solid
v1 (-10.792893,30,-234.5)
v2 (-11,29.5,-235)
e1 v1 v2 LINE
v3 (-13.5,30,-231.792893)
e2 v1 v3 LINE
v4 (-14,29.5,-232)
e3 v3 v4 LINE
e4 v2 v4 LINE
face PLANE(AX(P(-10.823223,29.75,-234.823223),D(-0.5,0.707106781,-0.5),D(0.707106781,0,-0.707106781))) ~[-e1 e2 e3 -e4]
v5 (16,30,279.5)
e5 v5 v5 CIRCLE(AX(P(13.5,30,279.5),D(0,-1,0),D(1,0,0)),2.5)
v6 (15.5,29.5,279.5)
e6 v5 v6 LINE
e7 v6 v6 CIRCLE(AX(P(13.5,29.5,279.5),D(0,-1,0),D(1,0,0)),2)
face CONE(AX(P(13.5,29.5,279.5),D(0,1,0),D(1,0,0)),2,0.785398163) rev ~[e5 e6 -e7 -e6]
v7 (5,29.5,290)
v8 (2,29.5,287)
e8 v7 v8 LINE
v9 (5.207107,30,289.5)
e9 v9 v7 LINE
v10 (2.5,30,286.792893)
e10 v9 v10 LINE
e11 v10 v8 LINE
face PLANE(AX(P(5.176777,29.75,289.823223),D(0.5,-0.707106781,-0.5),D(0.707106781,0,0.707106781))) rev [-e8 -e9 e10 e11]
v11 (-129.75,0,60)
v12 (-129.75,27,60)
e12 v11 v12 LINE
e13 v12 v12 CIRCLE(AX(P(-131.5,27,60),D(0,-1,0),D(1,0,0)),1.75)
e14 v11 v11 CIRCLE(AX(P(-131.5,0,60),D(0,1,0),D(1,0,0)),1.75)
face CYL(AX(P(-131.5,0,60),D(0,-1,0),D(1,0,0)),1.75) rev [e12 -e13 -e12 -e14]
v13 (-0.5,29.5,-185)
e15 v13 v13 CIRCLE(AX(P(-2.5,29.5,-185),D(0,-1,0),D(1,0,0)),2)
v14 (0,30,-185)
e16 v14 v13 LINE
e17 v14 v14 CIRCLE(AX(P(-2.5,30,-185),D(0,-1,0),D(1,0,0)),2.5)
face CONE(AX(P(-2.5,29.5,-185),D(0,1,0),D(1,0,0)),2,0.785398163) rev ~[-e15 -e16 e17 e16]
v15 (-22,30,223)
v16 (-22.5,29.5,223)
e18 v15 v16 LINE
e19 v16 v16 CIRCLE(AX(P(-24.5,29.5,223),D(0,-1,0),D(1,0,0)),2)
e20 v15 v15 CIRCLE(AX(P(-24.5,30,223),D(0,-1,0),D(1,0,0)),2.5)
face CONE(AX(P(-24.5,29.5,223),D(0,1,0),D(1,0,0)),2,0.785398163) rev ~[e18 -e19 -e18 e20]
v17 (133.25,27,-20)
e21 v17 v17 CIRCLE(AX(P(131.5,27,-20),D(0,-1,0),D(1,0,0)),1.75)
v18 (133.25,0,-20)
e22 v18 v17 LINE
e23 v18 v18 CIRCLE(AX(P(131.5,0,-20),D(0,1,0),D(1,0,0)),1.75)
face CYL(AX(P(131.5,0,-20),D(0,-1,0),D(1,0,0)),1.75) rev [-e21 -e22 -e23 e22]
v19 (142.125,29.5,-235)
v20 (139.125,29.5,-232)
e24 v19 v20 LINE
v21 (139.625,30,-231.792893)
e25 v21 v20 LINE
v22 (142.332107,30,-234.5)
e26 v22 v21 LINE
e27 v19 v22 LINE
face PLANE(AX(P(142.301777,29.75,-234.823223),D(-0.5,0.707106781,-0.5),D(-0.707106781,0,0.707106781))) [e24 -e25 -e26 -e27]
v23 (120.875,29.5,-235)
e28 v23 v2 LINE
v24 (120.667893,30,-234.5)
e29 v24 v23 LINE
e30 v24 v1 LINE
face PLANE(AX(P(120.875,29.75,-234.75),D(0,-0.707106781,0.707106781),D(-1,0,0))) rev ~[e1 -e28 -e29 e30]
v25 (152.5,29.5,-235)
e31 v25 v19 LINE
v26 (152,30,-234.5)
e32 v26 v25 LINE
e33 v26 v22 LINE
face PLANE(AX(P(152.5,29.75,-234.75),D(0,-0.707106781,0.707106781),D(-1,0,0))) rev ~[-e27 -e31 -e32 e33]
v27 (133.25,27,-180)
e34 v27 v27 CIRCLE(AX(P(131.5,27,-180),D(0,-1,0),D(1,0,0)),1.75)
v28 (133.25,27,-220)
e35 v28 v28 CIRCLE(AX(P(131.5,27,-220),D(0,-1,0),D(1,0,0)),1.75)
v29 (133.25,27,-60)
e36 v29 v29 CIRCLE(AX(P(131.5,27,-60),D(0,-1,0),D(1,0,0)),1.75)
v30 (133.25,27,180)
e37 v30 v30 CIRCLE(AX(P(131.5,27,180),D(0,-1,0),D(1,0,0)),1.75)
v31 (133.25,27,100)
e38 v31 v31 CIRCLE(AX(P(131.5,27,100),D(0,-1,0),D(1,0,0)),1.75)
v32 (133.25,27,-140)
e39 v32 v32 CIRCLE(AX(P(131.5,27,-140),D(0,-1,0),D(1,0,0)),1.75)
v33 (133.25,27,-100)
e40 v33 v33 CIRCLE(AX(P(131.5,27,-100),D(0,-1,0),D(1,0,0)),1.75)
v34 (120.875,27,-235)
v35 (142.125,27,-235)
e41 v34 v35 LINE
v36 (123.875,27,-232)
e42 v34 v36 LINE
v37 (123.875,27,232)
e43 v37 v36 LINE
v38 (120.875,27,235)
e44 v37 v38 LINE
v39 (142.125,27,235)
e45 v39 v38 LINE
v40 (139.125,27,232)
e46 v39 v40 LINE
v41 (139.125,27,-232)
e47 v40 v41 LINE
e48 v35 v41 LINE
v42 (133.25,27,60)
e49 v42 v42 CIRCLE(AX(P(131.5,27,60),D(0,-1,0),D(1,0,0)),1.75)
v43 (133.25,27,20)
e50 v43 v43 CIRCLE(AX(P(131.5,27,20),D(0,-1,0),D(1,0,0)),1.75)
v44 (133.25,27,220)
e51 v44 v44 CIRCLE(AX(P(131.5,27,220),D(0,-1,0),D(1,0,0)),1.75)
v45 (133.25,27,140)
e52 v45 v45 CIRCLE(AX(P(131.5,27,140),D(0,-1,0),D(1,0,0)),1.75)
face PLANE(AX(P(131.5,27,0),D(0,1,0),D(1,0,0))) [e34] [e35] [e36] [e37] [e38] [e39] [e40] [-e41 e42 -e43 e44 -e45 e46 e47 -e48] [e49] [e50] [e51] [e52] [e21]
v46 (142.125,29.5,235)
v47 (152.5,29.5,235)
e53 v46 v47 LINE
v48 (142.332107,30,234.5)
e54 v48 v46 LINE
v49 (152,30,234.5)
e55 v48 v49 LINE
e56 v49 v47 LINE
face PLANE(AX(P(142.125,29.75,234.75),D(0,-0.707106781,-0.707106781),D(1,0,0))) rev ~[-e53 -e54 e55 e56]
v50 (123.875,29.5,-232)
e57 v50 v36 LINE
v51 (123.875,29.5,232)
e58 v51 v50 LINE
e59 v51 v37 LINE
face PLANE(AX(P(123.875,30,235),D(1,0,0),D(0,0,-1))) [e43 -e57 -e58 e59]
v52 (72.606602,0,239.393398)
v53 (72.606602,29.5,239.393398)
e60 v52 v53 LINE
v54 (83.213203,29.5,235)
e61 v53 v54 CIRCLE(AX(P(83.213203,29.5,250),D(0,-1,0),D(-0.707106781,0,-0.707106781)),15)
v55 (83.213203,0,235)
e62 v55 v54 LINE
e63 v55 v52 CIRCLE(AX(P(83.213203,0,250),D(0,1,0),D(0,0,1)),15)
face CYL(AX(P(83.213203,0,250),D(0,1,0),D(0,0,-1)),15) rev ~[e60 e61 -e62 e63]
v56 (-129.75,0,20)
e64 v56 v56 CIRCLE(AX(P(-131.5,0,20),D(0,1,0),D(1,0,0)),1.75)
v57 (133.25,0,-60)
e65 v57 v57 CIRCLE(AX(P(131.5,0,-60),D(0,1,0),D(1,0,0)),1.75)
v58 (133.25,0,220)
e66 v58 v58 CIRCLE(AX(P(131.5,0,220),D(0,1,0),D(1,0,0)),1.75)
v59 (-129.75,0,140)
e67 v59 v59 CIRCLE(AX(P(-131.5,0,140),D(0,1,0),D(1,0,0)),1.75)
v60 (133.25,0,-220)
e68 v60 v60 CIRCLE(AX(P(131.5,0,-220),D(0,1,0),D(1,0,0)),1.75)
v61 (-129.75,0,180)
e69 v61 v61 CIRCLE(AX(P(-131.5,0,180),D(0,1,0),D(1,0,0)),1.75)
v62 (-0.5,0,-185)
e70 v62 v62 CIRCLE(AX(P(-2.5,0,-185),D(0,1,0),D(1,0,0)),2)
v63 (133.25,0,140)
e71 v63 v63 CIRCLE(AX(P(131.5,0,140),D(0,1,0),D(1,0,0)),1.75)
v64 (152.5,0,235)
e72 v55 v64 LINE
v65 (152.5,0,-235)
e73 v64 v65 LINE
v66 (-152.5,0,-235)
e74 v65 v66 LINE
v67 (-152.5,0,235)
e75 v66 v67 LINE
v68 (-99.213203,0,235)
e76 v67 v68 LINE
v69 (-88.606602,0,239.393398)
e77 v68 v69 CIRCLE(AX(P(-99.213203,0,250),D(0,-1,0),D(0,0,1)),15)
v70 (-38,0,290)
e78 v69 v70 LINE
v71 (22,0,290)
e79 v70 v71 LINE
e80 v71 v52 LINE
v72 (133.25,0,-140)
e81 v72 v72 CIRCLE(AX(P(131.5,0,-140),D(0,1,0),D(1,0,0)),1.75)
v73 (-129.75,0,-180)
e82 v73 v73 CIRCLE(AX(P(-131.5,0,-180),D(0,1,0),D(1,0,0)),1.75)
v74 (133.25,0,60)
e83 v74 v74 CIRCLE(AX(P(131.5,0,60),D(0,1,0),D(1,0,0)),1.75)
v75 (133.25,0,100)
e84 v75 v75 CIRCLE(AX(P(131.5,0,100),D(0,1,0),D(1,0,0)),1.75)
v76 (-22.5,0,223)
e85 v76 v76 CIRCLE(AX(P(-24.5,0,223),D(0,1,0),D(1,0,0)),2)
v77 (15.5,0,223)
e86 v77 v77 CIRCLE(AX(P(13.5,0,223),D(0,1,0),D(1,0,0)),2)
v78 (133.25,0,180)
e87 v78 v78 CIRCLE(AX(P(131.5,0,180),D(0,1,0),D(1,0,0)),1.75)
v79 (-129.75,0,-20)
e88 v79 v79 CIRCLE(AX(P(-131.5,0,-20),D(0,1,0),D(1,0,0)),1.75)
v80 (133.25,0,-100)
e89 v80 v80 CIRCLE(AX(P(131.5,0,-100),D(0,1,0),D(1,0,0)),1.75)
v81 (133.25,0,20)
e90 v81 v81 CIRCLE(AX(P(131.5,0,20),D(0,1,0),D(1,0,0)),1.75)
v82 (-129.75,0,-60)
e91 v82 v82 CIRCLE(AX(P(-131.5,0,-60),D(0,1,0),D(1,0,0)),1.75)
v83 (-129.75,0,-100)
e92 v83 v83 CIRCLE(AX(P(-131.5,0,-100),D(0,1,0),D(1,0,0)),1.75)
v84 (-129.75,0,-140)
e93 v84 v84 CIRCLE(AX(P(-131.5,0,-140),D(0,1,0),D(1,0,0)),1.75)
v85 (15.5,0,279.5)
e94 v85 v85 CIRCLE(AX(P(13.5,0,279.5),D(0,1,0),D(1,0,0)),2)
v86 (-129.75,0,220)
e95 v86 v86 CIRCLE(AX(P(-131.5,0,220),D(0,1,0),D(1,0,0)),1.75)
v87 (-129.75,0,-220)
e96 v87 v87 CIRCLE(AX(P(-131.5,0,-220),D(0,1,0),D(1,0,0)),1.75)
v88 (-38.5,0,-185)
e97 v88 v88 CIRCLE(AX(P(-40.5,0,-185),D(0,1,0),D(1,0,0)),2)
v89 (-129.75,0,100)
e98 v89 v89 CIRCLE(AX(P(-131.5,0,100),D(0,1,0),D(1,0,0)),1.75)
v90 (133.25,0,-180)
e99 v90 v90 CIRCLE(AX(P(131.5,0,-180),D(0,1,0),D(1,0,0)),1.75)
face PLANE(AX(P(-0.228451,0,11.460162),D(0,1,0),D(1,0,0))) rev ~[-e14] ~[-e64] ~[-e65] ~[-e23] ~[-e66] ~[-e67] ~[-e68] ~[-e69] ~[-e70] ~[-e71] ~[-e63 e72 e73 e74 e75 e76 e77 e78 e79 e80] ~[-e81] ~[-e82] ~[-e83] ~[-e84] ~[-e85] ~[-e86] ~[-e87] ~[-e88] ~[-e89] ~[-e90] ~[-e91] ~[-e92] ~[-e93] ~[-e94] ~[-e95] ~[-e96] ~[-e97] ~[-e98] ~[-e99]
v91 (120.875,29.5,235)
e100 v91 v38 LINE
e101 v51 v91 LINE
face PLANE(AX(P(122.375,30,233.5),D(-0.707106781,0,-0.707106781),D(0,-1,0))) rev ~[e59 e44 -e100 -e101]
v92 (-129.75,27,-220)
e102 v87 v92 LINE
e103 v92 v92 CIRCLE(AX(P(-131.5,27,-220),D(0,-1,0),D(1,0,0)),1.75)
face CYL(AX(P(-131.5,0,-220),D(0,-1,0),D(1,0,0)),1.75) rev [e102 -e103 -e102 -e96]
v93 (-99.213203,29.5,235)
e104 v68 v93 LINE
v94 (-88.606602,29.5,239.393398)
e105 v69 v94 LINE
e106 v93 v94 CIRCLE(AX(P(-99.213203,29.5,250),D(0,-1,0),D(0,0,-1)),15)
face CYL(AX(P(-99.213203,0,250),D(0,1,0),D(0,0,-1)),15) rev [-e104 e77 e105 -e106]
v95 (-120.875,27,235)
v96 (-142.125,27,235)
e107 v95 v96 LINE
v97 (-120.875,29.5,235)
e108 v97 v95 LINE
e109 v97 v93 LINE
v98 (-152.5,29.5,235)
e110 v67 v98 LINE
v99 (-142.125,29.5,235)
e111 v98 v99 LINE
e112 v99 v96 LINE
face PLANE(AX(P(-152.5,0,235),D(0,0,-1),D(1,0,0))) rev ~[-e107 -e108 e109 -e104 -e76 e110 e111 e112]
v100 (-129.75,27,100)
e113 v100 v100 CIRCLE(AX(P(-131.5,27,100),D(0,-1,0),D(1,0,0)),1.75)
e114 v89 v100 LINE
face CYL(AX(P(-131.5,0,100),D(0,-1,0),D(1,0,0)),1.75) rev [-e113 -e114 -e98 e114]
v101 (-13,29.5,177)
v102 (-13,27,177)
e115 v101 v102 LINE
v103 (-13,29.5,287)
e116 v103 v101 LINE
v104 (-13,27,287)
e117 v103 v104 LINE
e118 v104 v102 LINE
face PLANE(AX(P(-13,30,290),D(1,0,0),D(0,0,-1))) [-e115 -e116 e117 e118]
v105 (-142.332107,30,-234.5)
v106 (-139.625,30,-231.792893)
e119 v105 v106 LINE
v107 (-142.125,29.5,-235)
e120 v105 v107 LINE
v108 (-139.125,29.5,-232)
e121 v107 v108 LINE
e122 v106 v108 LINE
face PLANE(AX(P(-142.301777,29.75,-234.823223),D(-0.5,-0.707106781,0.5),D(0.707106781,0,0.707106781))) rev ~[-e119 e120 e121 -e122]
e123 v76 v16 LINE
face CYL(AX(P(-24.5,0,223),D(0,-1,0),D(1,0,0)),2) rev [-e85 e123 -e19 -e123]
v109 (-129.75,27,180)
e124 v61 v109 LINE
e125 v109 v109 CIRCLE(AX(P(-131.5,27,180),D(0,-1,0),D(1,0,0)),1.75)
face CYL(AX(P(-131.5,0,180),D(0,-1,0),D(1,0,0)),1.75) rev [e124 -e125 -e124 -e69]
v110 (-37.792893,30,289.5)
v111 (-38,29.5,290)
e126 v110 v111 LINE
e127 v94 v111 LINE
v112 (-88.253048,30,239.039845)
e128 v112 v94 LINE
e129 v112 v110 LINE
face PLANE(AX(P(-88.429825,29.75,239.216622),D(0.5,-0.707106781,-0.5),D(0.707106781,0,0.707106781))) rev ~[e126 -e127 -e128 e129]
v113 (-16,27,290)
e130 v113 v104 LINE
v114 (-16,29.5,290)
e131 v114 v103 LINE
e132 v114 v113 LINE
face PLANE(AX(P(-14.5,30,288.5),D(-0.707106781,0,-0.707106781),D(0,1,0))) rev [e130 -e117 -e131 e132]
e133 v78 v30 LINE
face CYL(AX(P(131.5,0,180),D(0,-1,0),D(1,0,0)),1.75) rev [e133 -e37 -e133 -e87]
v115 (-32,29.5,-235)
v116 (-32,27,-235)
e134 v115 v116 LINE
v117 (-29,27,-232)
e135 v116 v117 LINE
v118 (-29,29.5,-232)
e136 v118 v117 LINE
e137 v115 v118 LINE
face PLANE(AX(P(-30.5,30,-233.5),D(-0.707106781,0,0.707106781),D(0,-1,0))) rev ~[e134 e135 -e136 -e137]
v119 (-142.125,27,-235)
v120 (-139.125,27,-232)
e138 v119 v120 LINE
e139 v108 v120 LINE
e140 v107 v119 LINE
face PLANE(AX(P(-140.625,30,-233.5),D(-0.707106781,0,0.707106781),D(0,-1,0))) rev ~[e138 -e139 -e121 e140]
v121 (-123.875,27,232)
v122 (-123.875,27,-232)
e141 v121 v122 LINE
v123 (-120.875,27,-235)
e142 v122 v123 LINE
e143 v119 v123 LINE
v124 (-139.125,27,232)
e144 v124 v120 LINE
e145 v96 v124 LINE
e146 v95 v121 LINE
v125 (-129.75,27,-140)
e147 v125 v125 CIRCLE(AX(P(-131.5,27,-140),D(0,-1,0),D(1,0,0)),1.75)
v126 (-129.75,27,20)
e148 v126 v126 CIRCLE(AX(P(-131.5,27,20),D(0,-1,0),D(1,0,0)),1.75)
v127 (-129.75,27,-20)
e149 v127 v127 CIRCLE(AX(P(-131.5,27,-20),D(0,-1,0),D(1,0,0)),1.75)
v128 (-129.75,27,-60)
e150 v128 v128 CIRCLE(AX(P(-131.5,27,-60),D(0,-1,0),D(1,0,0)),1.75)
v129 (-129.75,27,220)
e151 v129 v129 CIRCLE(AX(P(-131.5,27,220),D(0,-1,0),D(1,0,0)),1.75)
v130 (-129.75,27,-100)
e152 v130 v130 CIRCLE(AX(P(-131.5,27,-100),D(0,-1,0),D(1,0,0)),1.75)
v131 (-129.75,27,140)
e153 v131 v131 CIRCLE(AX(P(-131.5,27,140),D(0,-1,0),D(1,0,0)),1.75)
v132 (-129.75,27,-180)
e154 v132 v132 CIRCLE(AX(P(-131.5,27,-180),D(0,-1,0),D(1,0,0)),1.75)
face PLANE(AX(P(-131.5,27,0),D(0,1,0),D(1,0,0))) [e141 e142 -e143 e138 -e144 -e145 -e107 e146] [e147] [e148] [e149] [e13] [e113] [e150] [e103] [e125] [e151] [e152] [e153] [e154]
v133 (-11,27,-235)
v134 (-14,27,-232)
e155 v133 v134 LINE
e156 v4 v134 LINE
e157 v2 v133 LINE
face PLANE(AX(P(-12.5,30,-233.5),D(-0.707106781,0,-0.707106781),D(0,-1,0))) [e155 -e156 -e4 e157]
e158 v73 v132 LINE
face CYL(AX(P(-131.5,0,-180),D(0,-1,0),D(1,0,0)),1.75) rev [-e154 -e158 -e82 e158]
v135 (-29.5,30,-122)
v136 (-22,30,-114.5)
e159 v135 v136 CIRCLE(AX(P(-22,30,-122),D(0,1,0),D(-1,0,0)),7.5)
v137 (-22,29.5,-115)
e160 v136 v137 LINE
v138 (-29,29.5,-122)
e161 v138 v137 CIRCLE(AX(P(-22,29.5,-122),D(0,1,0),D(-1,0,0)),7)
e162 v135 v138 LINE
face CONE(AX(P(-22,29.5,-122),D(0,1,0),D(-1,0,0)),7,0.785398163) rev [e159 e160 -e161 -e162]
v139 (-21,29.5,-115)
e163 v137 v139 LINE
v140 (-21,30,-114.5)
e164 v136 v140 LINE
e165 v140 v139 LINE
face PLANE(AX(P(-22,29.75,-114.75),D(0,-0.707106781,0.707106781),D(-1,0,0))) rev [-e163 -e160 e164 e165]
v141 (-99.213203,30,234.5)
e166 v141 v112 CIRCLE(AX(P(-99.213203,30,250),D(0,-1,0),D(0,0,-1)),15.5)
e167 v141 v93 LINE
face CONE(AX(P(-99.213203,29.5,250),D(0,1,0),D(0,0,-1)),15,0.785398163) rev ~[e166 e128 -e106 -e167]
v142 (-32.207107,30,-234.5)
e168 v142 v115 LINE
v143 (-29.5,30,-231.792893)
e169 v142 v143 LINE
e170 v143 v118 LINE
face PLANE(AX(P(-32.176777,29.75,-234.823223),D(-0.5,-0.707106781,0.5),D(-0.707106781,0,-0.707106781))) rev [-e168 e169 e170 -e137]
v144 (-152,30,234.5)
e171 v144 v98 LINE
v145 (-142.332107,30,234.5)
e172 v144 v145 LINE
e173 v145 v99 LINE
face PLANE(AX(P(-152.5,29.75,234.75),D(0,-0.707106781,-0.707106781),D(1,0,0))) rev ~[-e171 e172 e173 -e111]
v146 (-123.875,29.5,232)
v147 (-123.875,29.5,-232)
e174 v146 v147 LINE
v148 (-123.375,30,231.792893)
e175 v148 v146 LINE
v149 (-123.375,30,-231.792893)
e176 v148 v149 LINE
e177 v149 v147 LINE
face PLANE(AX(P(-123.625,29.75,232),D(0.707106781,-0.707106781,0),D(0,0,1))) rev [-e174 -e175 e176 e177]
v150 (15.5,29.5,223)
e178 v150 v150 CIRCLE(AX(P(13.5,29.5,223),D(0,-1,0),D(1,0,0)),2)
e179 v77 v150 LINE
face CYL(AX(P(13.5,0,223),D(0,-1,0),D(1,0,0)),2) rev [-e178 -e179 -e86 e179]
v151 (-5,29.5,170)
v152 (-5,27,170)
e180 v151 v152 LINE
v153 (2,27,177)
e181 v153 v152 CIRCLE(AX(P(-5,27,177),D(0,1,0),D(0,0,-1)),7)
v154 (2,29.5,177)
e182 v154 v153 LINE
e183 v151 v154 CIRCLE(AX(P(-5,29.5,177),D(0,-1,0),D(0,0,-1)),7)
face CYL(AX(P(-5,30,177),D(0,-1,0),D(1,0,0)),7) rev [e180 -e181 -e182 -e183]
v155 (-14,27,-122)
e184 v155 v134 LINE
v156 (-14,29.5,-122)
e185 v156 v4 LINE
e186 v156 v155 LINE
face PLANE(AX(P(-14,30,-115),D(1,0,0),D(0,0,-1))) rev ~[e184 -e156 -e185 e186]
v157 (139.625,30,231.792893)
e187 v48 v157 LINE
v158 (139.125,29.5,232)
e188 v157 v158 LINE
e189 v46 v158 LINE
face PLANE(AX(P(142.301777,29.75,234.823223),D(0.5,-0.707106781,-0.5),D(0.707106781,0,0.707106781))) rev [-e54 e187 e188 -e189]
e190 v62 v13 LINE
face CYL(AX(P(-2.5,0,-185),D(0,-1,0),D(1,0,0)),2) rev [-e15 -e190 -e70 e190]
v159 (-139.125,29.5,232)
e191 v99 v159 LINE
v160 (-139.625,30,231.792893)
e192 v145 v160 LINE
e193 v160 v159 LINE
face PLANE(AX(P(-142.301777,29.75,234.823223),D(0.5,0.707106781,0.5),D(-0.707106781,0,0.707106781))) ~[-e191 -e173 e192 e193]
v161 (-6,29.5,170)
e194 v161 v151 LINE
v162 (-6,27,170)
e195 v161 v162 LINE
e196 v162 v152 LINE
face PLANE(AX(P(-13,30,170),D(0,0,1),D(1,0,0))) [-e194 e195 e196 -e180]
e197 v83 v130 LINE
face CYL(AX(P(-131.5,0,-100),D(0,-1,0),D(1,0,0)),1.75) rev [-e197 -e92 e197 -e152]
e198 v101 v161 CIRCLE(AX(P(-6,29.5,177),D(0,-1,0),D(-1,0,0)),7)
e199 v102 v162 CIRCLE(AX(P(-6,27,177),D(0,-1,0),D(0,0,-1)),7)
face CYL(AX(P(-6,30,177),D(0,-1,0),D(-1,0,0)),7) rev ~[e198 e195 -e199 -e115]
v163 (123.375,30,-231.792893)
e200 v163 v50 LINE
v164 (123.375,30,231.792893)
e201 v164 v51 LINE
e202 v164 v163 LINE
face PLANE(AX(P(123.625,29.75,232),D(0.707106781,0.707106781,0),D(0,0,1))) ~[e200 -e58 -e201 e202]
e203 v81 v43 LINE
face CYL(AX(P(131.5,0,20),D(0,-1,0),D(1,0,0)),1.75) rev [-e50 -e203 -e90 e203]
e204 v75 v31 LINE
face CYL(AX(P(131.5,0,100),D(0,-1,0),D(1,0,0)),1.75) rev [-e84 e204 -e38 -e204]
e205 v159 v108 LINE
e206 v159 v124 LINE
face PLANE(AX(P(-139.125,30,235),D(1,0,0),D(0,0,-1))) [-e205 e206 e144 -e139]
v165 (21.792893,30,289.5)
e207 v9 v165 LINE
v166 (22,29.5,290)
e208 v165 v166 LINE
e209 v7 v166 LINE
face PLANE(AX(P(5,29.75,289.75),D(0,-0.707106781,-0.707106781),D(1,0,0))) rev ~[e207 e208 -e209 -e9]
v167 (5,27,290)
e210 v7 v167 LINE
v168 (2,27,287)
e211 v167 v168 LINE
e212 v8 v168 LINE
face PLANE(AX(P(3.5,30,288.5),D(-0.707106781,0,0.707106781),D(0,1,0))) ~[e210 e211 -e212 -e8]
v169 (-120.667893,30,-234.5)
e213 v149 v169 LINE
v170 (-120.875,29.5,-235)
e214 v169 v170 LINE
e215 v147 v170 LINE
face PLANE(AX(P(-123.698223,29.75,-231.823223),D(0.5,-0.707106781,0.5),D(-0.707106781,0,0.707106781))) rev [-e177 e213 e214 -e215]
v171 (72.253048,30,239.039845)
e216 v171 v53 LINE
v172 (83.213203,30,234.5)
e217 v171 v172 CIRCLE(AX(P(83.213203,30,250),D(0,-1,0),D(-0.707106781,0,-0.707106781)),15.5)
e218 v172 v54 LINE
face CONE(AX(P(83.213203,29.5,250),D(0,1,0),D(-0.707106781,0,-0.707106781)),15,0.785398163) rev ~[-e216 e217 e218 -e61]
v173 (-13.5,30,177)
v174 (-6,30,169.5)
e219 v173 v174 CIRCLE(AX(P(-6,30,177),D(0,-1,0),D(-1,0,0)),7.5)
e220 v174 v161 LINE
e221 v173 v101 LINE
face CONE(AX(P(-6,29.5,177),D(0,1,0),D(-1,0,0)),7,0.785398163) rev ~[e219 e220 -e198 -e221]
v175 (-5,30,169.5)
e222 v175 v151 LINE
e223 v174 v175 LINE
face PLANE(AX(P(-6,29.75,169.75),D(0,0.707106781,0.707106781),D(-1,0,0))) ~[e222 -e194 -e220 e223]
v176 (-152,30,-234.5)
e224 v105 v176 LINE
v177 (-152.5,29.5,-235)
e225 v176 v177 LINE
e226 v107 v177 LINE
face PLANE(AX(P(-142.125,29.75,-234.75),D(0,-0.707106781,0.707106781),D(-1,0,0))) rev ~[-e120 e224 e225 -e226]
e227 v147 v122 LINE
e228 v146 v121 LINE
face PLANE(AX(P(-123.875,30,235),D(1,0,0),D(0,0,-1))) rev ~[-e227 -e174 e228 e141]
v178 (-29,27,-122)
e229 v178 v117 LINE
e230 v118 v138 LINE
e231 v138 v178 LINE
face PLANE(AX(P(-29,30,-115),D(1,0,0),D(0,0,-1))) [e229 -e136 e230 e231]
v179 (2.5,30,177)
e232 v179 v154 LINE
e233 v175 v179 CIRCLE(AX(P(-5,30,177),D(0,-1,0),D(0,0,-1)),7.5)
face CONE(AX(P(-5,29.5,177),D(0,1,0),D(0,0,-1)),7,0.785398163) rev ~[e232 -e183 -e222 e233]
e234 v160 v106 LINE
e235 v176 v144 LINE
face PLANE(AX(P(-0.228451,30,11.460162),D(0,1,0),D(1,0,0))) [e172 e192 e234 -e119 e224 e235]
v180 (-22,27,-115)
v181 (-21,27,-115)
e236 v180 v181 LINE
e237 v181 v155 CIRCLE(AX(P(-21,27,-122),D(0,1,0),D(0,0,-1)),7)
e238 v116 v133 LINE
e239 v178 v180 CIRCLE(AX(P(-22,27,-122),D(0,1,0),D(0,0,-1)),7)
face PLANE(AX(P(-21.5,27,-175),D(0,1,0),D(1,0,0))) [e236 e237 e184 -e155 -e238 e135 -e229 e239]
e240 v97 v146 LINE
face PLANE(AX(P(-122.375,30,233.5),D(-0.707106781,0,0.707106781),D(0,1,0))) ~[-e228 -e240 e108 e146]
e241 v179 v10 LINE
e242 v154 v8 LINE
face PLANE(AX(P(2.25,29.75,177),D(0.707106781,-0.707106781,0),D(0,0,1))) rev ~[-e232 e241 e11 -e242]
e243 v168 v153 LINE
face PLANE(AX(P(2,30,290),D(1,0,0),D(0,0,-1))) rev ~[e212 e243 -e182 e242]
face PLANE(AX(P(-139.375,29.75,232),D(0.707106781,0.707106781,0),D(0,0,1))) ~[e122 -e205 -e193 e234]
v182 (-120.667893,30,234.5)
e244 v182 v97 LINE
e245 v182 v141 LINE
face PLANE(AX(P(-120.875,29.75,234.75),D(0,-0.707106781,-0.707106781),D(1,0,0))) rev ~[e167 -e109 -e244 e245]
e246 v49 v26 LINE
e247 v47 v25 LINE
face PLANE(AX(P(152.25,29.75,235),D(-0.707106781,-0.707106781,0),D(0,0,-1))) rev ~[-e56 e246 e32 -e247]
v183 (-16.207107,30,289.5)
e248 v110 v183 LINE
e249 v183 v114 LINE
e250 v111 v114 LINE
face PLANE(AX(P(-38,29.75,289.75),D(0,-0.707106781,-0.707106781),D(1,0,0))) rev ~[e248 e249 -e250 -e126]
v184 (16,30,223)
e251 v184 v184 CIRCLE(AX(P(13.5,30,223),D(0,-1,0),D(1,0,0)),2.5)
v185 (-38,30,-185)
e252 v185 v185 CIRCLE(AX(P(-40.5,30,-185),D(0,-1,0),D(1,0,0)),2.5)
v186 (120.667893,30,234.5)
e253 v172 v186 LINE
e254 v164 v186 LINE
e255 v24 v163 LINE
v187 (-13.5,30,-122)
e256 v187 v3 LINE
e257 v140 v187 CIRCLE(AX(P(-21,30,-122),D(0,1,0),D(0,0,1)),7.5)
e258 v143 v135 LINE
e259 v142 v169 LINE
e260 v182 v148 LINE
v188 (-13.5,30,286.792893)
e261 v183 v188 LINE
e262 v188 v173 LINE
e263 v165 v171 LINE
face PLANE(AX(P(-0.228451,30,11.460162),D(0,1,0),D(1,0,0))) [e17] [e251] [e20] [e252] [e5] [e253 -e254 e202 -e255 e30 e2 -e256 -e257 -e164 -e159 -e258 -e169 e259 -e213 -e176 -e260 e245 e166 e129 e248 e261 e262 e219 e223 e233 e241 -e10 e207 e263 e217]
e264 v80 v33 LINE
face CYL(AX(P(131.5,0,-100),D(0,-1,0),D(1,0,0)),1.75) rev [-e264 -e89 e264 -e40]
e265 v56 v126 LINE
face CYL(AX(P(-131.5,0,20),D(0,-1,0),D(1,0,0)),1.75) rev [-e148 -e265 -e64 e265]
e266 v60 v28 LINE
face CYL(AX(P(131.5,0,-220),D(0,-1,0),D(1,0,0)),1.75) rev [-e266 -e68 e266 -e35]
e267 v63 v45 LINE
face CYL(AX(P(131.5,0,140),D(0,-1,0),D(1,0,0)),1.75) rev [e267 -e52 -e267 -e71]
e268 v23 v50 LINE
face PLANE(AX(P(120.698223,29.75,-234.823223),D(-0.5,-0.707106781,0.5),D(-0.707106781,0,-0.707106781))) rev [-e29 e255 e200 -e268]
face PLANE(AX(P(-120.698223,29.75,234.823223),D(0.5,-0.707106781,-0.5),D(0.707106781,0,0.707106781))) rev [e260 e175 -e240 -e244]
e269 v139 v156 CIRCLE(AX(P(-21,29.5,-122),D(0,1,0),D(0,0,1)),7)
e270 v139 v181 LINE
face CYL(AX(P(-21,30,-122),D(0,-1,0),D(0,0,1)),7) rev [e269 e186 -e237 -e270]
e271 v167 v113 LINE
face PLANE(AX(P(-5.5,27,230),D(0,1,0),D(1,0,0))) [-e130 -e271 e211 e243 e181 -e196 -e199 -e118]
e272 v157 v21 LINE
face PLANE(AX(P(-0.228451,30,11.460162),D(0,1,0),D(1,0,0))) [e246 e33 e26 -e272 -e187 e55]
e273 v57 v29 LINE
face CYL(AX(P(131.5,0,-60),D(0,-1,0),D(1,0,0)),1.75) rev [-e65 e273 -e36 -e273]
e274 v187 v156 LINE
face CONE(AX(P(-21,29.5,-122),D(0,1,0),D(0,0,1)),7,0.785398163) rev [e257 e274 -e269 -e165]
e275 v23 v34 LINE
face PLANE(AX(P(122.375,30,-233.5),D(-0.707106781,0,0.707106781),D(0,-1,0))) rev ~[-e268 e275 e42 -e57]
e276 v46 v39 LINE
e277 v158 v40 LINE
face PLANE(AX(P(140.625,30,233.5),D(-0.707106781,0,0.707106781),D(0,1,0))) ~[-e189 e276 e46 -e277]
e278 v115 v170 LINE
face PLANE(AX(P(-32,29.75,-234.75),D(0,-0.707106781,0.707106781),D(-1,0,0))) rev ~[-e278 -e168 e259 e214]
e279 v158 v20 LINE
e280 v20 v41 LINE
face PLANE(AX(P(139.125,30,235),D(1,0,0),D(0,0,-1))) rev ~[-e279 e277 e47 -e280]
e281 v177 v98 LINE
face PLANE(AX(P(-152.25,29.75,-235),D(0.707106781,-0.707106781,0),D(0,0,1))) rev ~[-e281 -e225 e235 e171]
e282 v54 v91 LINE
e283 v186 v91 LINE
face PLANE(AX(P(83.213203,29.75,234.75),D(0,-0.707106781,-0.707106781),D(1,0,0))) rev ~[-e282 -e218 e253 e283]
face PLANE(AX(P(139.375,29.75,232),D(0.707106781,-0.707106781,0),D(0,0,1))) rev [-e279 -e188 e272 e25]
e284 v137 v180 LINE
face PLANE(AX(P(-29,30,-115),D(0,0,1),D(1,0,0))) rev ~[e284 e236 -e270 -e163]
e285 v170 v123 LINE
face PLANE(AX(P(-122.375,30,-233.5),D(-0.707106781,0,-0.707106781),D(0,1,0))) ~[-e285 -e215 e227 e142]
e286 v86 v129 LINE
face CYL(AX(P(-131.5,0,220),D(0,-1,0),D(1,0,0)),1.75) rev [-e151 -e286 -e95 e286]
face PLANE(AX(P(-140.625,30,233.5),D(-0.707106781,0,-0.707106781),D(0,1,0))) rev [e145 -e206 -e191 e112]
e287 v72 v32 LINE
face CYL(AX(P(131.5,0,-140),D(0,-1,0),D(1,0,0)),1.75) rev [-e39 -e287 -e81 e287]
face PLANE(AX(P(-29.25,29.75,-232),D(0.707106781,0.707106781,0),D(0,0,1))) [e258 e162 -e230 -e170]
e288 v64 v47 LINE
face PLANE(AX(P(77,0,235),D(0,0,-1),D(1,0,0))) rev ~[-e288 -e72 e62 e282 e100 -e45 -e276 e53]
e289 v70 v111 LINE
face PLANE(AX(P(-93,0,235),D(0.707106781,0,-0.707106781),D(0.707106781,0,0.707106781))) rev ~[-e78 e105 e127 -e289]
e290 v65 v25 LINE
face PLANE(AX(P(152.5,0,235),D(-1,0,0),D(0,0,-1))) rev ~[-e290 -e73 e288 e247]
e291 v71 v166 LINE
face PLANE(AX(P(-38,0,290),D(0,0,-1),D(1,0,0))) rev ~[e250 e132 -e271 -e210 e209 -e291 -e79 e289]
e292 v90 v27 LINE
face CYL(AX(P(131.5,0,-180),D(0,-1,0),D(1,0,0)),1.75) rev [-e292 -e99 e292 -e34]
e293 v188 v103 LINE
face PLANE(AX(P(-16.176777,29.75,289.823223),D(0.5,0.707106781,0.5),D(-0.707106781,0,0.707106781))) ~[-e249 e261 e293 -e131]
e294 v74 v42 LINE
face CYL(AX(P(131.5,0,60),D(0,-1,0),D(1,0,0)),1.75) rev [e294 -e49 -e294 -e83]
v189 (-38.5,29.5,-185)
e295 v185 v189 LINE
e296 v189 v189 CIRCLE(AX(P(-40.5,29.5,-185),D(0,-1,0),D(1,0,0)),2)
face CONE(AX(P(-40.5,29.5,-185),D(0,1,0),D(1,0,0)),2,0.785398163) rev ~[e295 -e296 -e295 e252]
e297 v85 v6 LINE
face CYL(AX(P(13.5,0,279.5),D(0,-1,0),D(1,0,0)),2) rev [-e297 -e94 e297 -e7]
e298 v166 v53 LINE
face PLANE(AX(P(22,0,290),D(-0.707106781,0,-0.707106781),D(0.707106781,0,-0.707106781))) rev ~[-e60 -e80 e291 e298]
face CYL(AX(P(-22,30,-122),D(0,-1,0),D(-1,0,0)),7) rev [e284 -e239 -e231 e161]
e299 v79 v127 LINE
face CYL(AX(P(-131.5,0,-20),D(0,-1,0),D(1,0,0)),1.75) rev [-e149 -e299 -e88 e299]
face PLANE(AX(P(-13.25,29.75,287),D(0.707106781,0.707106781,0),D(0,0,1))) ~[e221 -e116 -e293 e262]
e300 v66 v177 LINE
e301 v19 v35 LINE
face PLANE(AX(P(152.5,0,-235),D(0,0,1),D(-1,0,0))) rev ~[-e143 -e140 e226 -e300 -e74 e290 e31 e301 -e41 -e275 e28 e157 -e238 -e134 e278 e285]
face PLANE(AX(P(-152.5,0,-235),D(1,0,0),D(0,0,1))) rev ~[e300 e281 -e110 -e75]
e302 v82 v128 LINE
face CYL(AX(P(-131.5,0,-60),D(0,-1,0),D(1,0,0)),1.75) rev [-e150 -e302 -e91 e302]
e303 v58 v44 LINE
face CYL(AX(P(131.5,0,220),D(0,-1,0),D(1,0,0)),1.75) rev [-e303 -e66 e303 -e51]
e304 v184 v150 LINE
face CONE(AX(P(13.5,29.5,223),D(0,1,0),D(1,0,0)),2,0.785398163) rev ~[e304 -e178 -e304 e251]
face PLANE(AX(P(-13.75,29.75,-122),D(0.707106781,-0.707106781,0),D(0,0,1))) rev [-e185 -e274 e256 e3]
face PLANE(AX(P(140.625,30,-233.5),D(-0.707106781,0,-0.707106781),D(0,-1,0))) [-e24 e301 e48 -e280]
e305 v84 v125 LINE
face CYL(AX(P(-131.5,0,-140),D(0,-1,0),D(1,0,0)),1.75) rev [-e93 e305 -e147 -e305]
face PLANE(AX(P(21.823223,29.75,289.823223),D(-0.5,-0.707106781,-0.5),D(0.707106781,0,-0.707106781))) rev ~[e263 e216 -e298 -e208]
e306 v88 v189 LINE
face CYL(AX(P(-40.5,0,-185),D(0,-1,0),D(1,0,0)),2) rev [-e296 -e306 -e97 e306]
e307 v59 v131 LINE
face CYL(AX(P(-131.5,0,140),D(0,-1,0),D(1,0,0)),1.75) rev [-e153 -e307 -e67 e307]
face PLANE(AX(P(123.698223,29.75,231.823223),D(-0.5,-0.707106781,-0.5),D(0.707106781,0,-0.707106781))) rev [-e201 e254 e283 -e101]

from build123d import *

# Parameters (mm, degrees)
BOSS_EXTRUDE1_DEPTH = 30
SKETCH2_R           = 1.75
SKETCH2_R_2         = 2
CUT_EXTRUDE1_DEPTH  = 31
SKETCH3_W           = 15.25
SKETCH3_H           = 470
CUT_EXTRUDE2_DEPTH  = 3
SKETCH4_W           = 15
SKETCH4_H           = 120
CUT_EXTRUDE3_DEPTH  = 3
FILLET1_R           = 7
FILLET2_R           = 15
CHAMFER1_SIZE       = 3
CHAMFER2_SIZE       = 0.5


with BuildPart() as part:
    # Sketch1 → Boss-Extrude1 (new body)
    with BuildSketch(Plane(origin=(0, 0, 0), x_dir=(1, 0, 0), z_dir=(0, 1, 0))):
        Polygon((-93, -235), (-38, -290), (22, -290), (77, -235), (152.5, -235), (152.5, 235), (-152.5, 235), (-152.5, -235), align=None)
    extrude(amount=BOSS_EXTRUDE1_DEPTH)

    # Sketch2 → Cut-Extrude1 (cut, through all)
    with BuildSketch(Plane(origin=(0, 0, 0), x_dir=(1, 0, 0), z_dir=(0, 1, 0))):
        with Locations((-131.5, 220)):
            Circle(SKETCH2_R)
        with Locations((131.5, 220)):
            Circle(SKETCH2_R)
        with Locations((13.5, -223)):
            Circle(SKETCH2_R_2)
        with Locations((-24.5, -223)):
            Circle(SKETCH2_R_2)
        with Locations((-40.5, 185)):
            Circle(SKETCH2_R_2)
        with Locations((-2.5, 185)):
            Circle(SKETCH2_R_2)
        with Locations((-131.5, 180)):
            Circle(SKETCH2_R)
        with Locations((131.5, 180)):
            Circle(SKETCH2_R)
        with Locations((-131.5, 140)):
            Circle(SKETCH2_R)
        with Locations((131.5, 140)):
            Circle(SKETCH2_R)
        with Locations((-131.5, 100)):
            Circle(SKETCH2_R)
        with Locations((131.5, 100)):
            Circle(SKETCH2_R)
        with Locations((-131.5, 60)):
            Circle(SKETCH2_R)
        with Locations((131.5, 60)):
            Circle(SKETCH2_R)
        with Locations((-131.5, 20)):
            Circle(SKETCH2_R)
        with Locations((131.5, 20)):
            Circle(SKETCH2_R)
        with Locations((-131.5, -20)):
            Circle(SKETCH2_R)
        with Locations((131.5, -20)):
            Circle(SKETCH2_R)
        with Locations((-131.5, -60)):
            Circle(SKETCH2_R)
        with Locations((131.5, -60)):
            Circle(SKETCH2_R)
        with Locations((-131.5, -100)):
            Circle(SKETCH2_R)
        with Locations((131.5, -100)):
            Circle(SKETCH2_R)
        with Locations((-131.5, -140)):
            Circle(SKETCH2_R)
        with Locations((131.5, -140)):
            Circle(SKETCH2_R)
        with Locations((-131.5, -180)):
            Circle(SKETCH2_R)
        with Locations((131.5, -180)):
            Circle(SKETCH2_R)
        with Locations((-131.5, -220)):
            Circle(SKETCH2_R)
        with Locations((131.5, -220)):
            Circle(SKETCH2_R)
        with Locations((13.5, -279.5)):
            Circle(SKETCH2_R_2)
    extrude(amount=CUT_EXTRUDE1_DEPTH, mode=Mode.SUBTRACT)

    # Sketch3 → Cut-Extrude2 (cut)
    with BuildSketch(Plane(origin=(0, 30, 0), x_dir=(1, 0, 0), z_dir=(0, 1, 0))):
        with Locations((-131.5, 0)):
            Rectangle(SKETCH3_W, SKETCH3_H)
        with Locations((131.5, 0)):
            Rectangle(SKETCH3_W, SKETCH3_H)
    extrude(amount=-CUT_EXTRUDE2_DEPTH, mode=Mode.SUBTRACT)

    # Sketch4 → Cut-Extrude3 (cut)
    with BuildSketch(Plane(origin=(0, 30, 0), x_dir=(1, 0, 0), z_dir=(0, 1, 0))):
        with Locations((-5.5, -230)):
            Rectangle(SKETCH4_W, SKETCH4_H)
        with Locations((-21.5, 175)):
            Rectangle(SKETCH4_W, SKETCH4_H)
    extrude(amount=-CUT_EXTRUDE3_DEPTH, mode=Mode.SUBTRACT)

    # Fillet1
    fillet1_edges = [part.edges().sort_by_distance(p)[0] for p in [
        (-13, 28.5, 170),
        (2, 28.5, 170),
        (-29, 28.5, -115),
        (-14, 28.5, -115),
    ]]
    fillet(fillet1_edges, radius=FILLET1_R)

    # Fillet2
    fillet2_edges = [part.edges().sort_by_distance(p)[0] for p in [
        (77, 15, 235),
        (-93, 15, 235),
    ]]
    fillet(fillet2_edges, radius=FILLET2_R)

    # Chamfer1
    chamfer1_edges = [part.edges().sort_by_distance(p)[0] for p in [
        (-123.875, 28.5, -235),
        (-123.875, 28.5, 235),
        (-139.125, 28.5, 235),
        (-139.125, 28.5, -235),
        (123.875, 28.5, 235),
        (123.875, 28.5, -235),
        (139.125, 28.5, -235),
        (139.125, 28.5, 235),
        (-13, 28.5, 290),
        (2, 28.5, 290),
        (-29, 28.5, -235),
        (-14, 28.5, -235),
    ]]
    chamfer(chamfer1_edges, length=CHAMFER1_SIZE)

    # Chamfer2
    chamfer2_edges = [part.edges().sort_by_distance(p)[0] for p in [
        (-152.5, 30, 0),
        (-147.3125, 30, 235),
        (-27, 30, 290),
        (47.303300859, 30, 264.696699141),
        (-21.5, 30, -115),
        (-14, 30, -177),
        (-13, 30, 232),
        (-5.5, 30, 170),
        (-26.949747468, 30, -117.050252532),
        (-16.050252532, 30, -117.050252532),
        (-10.949747468, 30, 172.050252532),
        (-0.050252532, 30, 172.050252532),
        (102.044101718, 30, 235),
        (-63.303300859, 30, 264.696699141),
        (77.47295195, 30, 236.141807012),
        (-93.47295195, 30, 236.141807012),
        (-110.044101718, 30, 235),
        (-139.125, 30, 0),
        (-147.3125, 30, -235),
        (-140.625, 30, -233.5),
        (-140.625, 30, 233.5),
        (-123.875, 30, 0),
        (2, 30, 232),
        (13.5, 30, 290),
        (123.875, 30, 0),
        (54.9375, 30, -235),
        (-29, 30, -177),
        (-76.4375, 30, -235),
        (-14.5, 30, 288.5),
        (3.5, 30, 288.5),
        (-30.5, 30, -233.5),
        (-12.5, 30, -233.5),
        (-122.375, 30, -233.5),
        (122.375, 30, -233.5),
        (122.375, 30, 233.5),
        (-122.375, 30, 233.5),
        (139.125, 30, 0),
        (147.3125, 30, 235),
        (140.625, 30, -233.5),
        (140.625, 30, 233.5),
        (152.5, 30, 0),
        (147.3125, 30, -235),
        (11.5, 30, 223),
        (-26.5, 30, 223),
        (-42.5, 30, -185),
        (-4.5, 30, -185),
        (11.5, 30, 279.5),
    ]]
    chamfer(chamfer2_edges, length=CHAMFER2_SIZE)


solid = part.part
